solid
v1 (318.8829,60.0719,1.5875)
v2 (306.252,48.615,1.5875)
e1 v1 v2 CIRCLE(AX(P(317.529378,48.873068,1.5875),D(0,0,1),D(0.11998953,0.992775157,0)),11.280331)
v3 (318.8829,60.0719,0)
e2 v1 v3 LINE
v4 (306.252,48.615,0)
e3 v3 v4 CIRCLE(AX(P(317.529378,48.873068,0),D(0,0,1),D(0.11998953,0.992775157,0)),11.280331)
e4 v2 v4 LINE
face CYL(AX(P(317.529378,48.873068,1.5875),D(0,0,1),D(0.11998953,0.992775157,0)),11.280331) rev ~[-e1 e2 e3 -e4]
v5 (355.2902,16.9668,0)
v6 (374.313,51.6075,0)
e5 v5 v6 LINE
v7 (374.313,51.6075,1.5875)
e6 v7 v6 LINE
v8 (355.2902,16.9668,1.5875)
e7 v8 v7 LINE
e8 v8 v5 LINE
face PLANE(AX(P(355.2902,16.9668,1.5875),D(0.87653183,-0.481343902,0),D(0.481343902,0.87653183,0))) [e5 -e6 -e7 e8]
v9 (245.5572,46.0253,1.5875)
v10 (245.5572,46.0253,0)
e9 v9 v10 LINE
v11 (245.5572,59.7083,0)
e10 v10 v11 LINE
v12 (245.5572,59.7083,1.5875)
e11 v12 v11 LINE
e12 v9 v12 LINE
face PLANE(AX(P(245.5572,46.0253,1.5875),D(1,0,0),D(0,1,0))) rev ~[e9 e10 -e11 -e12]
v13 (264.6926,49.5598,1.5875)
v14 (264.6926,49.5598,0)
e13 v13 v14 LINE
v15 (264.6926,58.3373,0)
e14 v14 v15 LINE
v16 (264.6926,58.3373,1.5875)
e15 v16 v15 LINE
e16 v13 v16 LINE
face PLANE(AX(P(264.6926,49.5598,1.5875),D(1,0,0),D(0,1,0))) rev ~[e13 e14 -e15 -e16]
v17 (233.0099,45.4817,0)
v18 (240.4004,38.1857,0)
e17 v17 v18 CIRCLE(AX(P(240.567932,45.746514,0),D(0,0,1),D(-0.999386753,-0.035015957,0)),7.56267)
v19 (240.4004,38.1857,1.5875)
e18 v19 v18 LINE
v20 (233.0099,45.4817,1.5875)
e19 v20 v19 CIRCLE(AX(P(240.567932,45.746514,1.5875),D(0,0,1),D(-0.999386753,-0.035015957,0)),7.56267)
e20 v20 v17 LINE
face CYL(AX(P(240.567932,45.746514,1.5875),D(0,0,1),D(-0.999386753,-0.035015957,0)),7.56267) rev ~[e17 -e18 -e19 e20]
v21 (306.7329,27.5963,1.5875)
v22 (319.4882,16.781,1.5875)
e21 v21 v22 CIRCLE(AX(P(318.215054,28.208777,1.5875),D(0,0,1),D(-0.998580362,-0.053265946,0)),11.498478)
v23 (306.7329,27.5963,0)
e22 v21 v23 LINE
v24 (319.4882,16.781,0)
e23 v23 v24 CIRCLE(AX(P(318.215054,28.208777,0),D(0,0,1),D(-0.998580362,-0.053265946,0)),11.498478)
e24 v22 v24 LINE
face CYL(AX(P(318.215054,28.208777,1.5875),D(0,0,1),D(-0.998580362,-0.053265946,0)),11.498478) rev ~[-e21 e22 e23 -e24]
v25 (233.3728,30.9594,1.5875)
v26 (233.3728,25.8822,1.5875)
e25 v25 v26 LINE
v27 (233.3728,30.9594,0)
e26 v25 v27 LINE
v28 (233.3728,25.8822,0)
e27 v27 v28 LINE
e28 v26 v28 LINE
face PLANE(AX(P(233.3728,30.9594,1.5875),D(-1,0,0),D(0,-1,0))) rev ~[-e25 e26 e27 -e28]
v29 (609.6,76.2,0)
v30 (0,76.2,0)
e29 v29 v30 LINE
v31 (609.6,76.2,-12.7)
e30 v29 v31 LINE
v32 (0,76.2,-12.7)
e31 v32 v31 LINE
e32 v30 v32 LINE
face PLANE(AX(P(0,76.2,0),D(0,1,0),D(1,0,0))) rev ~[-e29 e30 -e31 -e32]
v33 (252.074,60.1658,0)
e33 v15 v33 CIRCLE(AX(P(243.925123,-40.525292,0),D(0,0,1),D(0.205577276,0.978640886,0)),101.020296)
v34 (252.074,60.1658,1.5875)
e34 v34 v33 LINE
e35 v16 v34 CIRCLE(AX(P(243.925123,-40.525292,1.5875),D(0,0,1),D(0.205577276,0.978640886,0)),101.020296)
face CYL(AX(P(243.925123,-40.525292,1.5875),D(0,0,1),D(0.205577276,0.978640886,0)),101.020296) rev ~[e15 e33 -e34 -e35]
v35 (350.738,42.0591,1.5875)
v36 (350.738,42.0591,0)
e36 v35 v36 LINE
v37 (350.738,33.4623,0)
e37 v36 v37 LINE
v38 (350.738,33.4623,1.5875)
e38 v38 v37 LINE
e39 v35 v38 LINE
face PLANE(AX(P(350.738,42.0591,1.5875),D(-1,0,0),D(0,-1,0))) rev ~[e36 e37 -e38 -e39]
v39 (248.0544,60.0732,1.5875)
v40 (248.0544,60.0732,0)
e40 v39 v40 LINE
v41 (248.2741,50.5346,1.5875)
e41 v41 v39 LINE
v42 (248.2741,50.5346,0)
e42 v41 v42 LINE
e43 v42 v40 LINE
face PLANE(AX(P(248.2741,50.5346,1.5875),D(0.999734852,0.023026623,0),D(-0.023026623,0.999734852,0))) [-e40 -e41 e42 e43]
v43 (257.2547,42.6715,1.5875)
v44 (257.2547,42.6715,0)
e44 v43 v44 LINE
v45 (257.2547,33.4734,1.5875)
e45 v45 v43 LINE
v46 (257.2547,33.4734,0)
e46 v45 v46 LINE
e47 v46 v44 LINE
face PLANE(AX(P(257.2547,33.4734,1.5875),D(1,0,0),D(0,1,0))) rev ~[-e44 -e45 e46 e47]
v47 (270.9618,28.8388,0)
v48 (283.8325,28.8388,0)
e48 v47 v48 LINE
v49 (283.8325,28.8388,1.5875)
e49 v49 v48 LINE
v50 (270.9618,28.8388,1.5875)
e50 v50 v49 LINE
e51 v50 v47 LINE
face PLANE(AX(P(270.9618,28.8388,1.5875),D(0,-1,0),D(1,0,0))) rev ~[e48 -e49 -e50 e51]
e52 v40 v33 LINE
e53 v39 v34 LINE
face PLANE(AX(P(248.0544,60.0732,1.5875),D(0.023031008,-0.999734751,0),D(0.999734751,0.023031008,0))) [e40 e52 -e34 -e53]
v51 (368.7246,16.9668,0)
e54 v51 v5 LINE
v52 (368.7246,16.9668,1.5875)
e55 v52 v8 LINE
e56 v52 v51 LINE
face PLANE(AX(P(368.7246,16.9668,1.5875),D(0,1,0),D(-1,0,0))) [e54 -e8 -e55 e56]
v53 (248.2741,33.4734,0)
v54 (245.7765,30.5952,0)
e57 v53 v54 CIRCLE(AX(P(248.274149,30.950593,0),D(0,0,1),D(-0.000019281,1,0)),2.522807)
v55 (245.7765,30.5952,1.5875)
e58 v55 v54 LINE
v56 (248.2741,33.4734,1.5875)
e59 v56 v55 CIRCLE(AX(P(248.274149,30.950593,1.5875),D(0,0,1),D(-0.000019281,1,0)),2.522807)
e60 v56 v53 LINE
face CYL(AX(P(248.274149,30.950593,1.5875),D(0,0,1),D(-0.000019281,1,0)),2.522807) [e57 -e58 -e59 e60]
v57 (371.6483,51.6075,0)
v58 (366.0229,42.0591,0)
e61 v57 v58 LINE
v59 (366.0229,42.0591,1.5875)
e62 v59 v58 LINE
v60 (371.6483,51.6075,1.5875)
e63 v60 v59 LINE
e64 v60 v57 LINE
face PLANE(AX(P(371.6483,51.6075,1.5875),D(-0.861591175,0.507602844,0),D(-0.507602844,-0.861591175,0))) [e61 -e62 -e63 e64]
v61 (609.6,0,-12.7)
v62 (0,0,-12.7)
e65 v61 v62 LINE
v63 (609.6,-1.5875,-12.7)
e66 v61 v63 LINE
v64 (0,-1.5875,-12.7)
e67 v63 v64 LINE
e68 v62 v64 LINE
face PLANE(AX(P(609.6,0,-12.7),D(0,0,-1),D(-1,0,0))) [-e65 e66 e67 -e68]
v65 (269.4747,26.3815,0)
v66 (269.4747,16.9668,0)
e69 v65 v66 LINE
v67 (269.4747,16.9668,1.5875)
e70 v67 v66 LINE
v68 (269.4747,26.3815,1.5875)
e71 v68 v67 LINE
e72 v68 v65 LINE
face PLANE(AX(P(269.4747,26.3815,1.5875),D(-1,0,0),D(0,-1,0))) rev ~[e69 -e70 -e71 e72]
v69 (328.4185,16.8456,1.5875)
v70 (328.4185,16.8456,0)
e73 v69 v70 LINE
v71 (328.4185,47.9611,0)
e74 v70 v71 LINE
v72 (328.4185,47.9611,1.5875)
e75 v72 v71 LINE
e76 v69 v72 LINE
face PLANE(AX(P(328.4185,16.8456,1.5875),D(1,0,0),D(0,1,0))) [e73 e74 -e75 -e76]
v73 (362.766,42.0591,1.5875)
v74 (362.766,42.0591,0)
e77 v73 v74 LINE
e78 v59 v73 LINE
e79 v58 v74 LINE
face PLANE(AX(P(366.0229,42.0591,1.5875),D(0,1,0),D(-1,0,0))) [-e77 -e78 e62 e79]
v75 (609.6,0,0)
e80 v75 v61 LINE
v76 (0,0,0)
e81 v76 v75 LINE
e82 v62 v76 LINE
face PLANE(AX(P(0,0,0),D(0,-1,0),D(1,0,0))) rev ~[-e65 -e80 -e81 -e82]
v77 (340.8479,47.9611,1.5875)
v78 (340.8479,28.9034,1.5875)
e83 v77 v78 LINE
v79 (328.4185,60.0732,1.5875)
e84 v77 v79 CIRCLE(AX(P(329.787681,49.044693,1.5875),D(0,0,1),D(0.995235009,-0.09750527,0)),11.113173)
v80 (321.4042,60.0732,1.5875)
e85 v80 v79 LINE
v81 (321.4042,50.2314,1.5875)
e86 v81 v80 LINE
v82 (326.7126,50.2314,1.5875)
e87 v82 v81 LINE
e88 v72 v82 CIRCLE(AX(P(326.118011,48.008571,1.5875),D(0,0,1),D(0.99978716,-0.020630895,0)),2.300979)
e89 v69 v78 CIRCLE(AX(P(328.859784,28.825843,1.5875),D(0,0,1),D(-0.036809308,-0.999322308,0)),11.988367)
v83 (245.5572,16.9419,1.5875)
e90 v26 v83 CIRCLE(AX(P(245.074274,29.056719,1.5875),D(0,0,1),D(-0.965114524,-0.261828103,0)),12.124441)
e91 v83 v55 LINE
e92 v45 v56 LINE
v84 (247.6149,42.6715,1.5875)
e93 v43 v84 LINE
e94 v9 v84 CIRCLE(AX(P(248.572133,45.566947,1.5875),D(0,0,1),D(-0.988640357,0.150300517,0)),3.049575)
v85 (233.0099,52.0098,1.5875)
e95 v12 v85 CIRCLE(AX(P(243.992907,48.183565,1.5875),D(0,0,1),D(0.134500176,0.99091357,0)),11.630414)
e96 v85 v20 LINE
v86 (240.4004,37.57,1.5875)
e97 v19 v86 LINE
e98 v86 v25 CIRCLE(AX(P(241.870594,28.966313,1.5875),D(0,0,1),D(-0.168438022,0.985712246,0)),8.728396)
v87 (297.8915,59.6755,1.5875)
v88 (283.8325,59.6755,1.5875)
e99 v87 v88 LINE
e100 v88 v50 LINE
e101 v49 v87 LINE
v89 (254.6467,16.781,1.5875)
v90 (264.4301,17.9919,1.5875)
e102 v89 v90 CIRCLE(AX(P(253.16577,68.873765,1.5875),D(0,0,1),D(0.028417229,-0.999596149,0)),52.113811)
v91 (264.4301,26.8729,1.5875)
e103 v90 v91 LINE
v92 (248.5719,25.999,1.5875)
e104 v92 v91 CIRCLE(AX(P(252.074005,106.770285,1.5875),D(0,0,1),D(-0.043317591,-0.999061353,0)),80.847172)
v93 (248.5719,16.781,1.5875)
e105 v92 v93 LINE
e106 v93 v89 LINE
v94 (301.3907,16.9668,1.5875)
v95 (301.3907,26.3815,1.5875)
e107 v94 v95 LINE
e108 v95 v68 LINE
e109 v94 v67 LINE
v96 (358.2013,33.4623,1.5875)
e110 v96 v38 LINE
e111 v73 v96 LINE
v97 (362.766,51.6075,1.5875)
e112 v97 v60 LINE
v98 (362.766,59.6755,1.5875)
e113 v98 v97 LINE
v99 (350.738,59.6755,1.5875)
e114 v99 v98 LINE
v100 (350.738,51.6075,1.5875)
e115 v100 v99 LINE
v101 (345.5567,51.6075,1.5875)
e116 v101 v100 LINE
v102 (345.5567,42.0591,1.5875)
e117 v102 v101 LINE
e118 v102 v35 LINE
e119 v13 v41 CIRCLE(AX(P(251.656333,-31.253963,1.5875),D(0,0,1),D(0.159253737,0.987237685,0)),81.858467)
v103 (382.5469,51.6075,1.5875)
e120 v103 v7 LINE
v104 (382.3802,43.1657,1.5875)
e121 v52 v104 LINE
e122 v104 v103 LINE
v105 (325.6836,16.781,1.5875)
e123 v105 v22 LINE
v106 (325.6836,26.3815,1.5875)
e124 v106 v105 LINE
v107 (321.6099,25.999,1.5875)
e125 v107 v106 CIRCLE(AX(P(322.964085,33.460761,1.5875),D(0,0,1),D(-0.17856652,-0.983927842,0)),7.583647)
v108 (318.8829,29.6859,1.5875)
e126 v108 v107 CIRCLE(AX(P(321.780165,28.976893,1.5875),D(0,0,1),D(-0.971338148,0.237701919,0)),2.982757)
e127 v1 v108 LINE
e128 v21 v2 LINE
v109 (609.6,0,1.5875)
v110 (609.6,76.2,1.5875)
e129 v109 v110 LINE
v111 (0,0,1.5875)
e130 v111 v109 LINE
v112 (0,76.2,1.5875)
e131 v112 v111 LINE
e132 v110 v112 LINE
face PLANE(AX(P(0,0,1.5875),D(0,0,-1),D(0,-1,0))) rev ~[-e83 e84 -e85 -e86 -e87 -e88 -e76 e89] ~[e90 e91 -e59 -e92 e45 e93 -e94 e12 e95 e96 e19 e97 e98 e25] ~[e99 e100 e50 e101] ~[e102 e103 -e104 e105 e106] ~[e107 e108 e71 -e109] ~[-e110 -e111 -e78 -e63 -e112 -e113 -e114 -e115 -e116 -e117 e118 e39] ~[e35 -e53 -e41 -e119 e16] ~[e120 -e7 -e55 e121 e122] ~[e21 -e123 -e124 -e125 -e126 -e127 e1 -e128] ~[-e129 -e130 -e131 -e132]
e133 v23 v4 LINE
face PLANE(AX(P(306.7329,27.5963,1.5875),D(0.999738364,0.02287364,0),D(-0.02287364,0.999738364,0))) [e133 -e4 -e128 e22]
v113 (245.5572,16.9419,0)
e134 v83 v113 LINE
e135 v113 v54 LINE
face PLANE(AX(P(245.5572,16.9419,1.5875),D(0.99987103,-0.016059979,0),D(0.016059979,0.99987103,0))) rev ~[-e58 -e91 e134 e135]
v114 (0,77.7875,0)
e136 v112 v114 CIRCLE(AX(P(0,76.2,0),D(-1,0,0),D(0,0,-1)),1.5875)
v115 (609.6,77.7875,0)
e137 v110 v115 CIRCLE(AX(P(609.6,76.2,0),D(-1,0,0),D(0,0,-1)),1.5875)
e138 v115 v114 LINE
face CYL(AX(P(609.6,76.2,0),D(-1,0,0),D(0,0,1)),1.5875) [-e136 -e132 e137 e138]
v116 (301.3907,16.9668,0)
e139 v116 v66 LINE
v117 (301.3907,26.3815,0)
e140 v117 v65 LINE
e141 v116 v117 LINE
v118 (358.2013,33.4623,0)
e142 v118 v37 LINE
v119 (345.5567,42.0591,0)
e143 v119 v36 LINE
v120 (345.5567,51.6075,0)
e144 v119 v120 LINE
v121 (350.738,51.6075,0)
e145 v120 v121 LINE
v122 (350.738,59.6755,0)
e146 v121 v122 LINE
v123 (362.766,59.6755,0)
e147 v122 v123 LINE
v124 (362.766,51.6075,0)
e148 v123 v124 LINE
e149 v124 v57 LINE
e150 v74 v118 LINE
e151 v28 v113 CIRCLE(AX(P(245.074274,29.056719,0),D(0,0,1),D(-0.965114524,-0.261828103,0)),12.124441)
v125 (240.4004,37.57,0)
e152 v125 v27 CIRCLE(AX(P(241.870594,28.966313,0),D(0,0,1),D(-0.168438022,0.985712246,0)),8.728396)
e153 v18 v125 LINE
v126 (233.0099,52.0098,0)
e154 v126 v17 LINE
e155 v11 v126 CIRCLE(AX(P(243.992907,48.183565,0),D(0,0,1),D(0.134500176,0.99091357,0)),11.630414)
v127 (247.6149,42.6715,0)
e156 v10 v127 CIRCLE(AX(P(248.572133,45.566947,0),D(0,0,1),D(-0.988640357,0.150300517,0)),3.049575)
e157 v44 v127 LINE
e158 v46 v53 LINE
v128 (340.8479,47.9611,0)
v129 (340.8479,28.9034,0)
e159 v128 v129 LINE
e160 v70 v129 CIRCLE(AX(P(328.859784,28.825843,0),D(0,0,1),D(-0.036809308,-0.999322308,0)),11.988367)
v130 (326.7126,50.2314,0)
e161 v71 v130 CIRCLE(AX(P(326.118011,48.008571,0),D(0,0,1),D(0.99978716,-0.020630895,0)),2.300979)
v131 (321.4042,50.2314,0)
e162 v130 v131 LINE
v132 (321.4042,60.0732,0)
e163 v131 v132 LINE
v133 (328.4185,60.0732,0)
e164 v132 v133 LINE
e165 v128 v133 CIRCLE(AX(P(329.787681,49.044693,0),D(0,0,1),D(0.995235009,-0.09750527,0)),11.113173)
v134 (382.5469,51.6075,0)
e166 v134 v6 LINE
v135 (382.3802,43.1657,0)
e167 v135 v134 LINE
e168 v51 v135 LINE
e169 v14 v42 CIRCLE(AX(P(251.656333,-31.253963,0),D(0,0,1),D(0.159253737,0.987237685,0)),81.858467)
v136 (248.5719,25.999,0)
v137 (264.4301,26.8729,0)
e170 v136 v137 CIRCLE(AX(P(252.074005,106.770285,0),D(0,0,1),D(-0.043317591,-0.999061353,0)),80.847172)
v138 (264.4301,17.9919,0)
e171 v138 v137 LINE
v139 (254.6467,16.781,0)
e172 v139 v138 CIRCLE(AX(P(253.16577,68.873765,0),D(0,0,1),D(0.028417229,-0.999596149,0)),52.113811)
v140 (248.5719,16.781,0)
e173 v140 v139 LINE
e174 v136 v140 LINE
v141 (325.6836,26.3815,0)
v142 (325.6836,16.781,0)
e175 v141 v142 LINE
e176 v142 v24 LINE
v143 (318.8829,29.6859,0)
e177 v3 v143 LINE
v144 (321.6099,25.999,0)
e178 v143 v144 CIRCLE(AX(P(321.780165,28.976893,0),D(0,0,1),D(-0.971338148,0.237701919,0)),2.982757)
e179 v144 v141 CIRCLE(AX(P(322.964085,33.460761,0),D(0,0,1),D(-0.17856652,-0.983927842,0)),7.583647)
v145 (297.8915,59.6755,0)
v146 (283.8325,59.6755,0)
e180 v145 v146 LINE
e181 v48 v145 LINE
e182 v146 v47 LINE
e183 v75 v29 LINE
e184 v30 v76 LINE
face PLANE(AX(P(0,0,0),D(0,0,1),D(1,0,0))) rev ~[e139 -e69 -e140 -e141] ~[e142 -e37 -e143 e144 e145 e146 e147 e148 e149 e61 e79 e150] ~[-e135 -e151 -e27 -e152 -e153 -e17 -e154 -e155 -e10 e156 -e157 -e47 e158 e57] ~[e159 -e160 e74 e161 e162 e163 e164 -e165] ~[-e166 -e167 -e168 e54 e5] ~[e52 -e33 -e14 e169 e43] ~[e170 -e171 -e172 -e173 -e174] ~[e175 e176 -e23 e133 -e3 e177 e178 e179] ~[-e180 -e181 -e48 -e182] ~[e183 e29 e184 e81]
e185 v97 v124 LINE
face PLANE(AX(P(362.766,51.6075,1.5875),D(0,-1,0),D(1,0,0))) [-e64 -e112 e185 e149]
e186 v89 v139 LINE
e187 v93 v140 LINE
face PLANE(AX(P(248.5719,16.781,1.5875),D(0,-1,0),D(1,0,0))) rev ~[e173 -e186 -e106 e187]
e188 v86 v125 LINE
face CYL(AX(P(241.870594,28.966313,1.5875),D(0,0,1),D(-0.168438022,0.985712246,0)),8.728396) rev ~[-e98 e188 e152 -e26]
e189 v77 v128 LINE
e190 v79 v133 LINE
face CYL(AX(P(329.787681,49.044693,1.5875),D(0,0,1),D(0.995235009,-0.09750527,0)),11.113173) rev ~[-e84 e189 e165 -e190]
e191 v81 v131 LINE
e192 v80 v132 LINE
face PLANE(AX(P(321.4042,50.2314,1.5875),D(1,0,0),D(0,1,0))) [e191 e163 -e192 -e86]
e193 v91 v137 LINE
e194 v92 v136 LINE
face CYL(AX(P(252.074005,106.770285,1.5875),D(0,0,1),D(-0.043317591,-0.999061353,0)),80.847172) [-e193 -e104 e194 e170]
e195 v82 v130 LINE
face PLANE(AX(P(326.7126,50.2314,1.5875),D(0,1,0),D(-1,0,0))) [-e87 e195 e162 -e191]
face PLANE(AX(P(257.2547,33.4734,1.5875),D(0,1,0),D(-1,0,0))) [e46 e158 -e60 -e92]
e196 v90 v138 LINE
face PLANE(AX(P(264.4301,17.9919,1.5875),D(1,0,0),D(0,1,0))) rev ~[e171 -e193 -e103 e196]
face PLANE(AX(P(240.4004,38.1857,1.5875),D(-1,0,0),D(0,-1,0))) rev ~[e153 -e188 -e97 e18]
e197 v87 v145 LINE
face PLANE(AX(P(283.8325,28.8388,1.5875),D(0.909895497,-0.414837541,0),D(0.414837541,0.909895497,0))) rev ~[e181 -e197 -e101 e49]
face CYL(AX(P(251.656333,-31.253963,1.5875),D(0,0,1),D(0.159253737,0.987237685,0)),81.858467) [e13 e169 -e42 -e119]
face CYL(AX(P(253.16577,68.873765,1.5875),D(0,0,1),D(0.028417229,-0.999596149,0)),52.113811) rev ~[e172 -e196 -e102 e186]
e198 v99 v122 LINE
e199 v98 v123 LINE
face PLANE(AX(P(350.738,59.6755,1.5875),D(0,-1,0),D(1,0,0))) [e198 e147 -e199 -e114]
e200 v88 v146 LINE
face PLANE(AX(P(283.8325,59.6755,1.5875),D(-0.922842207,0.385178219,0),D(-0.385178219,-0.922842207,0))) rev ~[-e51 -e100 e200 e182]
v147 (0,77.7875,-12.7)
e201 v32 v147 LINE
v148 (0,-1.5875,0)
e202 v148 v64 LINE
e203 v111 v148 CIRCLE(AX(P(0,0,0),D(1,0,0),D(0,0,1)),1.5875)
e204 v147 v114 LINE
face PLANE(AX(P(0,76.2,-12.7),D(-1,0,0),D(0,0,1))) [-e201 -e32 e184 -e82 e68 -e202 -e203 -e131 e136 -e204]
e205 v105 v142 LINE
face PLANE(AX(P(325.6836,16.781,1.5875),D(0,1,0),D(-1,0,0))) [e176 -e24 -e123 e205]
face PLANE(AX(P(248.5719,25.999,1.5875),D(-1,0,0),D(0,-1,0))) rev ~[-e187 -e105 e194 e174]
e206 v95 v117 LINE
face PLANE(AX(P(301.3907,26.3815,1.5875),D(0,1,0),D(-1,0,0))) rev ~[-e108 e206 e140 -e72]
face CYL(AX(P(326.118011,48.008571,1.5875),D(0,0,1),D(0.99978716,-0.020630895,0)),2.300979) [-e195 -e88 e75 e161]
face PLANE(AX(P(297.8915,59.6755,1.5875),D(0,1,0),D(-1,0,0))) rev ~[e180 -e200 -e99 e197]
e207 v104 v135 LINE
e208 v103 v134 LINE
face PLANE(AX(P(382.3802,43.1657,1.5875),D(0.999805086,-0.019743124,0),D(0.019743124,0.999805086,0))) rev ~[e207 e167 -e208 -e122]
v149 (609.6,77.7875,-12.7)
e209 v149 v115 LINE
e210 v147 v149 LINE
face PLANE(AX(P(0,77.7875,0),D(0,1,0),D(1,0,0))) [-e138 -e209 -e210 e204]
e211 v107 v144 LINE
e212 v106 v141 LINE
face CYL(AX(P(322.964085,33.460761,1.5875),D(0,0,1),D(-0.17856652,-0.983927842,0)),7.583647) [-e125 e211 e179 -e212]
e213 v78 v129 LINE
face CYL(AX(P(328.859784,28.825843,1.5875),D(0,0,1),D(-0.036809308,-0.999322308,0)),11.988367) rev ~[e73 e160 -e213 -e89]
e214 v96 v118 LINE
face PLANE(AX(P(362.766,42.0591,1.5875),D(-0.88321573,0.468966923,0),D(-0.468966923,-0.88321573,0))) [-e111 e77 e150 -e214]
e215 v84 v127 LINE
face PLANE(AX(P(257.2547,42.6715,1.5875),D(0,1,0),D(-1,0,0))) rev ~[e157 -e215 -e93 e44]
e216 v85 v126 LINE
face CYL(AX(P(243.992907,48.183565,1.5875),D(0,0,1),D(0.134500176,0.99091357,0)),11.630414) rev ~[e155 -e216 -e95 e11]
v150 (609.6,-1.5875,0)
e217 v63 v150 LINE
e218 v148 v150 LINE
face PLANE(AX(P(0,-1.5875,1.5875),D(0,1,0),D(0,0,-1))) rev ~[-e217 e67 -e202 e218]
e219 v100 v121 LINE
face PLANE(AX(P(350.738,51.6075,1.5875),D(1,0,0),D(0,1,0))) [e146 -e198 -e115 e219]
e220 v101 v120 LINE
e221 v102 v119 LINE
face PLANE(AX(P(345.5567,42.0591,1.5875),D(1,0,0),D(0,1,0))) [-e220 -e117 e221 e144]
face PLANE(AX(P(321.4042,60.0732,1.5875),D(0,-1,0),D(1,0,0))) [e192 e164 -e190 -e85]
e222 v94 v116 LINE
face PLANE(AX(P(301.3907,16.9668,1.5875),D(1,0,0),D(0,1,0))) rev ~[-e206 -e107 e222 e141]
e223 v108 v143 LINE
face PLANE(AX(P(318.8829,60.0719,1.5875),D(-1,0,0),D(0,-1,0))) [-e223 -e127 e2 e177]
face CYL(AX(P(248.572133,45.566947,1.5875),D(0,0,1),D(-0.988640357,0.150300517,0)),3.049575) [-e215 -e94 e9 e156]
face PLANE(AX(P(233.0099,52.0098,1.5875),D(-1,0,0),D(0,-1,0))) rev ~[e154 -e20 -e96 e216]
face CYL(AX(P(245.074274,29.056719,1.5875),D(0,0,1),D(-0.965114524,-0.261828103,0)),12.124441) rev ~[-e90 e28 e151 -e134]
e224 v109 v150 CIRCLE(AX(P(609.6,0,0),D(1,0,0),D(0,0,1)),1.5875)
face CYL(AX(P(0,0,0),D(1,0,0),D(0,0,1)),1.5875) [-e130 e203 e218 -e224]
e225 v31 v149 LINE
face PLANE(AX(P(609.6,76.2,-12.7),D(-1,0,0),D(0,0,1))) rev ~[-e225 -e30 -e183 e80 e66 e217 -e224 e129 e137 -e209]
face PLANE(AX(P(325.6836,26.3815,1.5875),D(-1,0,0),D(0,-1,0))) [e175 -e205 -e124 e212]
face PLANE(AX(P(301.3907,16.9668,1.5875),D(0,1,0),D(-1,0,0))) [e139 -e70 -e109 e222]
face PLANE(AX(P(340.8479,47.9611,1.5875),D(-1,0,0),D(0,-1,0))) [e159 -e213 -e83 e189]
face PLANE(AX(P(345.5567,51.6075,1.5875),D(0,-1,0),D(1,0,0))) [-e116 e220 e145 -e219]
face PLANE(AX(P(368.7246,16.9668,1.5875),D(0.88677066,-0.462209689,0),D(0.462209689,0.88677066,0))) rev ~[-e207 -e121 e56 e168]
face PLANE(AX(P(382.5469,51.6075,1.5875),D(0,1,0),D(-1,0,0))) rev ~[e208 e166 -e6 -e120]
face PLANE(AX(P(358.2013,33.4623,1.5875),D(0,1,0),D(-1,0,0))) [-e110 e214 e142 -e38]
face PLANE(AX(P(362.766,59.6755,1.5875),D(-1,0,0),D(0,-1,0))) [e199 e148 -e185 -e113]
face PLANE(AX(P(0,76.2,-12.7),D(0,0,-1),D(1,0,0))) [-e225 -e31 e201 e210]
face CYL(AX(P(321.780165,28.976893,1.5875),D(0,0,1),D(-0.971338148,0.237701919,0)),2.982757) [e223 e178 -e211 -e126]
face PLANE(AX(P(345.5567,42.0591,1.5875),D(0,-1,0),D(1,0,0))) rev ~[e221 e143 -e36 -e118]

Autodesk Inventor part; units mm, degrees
ref_plane "YZ Plane" through (0, 0, 0) normal (1, 0, 0) x (0, 1, 0)
ref_plane "XZ Plane" through (0, 0, 0) normal (0, 1, 0) x (-1, 0, 0)
ref_plane "XY Plane" through (0, 0, 0) normal (0, 0, 1) x (1, 0, 0)
sketch "Sketch1" plane through (0, 0, 0) normal (0, 0, 1) x (1, 0, 0)
  line L0 (0, 0) -> (609.6, 0)
  line L1 (609.6, 0) -> (609.6, 76.2)
  line L2 (609.6, 76.2) -> (0, 76.2)
  line L3 (0, 76.2) -> (0, 0)
  dimension "d0" = 609.6
  dimension "d1" = 76.2
extrude "Extrusion1" add sketch "Sketch1" along normal blind 1.5875
sketch "Sketch2" plane through (0, 76.2, 0) normal (0, 1, 0) x (1, 0, 0)
  line L0 (609.6, 0) -> (0, 0) projected
  line L1 (0, 0) -> (0, -1.5875) projected
  line L2 (609.6, -1.5875) -> (0, -1.5875) projected
  line L3 (609.6, 0) -> (609.6, -1.5875) projected
  line L4 (609.6, -1.5875) -> (0, -1.5875)
  line L5 (0, -1.5875) -> (0, 12.7)
  line L6 (0, 12.7) -> (609.6, 12.7)
  line L7 (609.6, 12.7) -> (609.6, -1.5875)
  dimension "d39" = 12.7
extrude "Extrusion2" add sketch "Sketch2" along normal blind 1.5875
fillet "Fillet1" radius 1.5875 1 edges at (304.8, 77.7875, 1.5875)
sketch "Sketch3" plane through (0, 0, 0) normal (0, -1, 0) x (1, 0, 0)
  line L0 (609.6, 0) -> (0, 0) projected
  line L1 (0, -12.7) -> (0, 0) projected
  line L2 (609.6, -12.7) -> (0, -12.7) projected
  line L3 (609.6, 0) -> (609.6, -12.7) projected
extrude "Extrusion3" add sketch "Sketch3" along normal blind 1.5875
sketch "Sketch4" plane through (0, 76.2, -12.7) normal (-1, 0, 0) x (0, 0, 1)
  line L0 (12.7, -76.2) -> (0, -76.2) projected
  line L1 (0, -76.2) -> (0, -77.7875) projected
  line L2 (12.7, -77.7875) -> (0, -77.7875) projected
  line L3 (12.7, -76.2) -> (12.7, -77.7875) projected
  arc A0 (14.2875, 0) -> (12.7, 1.5875) centre (12.7, 0) ccw projected
  line L4 (0, 1.5875) -> (12.7, 1.5875) projected
  line L5 (0, 0) -> (0, 1.5875) projected
  line L6 (0, 0) -> (12.7, 0) projected
  line L7 (12.7, 0) -> (12.7, -76.2) projected
  line L8 (12.7, -76.2) -> (14.2875, -76.2) projected
  line L9 (14.2875, -76.2) -> (14.2875, 0) projected
  line L10 (12.7, -76.2) -> (14.2875, -76.2)
  line L11 (14.2875, -76.2) -> (14.2875, -77.7875)
  line L12 (14.2875, -77.7875) -> (12.7, -77.7875)
  line L13 (12.7, -77.7875) -> (12.7, -76.2)
extrude "Extrusion4" add sketch "Sketch4" against normal up to surface (609.6 mm away) contours L8 L11 L12 L3
fillet "Fillet2" radius 1.5875 1 edges at (304.8, -1.5875, 1.5875)
sketch "Sketch5" plane through (0, 0, 1.5875) normal (0, 0, 1) x (1, 0, 0)
  line L0 (391.8077, 9.2075) -> (217.7923, 9.2075) construction
  line L1 (217.7923, 9.2075) -> (217.7923, 67.0009) construction
  line L2 (217.7923, 67.0009) -> (391.8077, 67.0009) construction
  line L3 (391.8077, 67.0009) -> (391.8077, 9.2075) construction
  line L4 (368.7246, 16.9668) -> (355.2902, 16.9668)
  line L5 (355.2902, 16.9668) -> (374.313, 51.6075)
  line L6 (366.0229, 42.0591) -> (362.766, 42.0591)
  line L7 (362.766, 42.0591) -> (358.2013, 33.4623)
  line L8 (358.2013, 33.4623) -> (350.738, 33.4623)
  line L9 (345.5567, 42.0591) -> (345.5567, 51.6075)
  line L10 (345.5567, 51.6075) -> (350.738, 51.6075)
  line L11 (350.738, 51.6075) -> (350.738, 59.6755)
  line L12 (350.738, 59.6755) -> (362.766, 59.6755)
  line L13 (362.766, 59.6755) -> (362.766, 51.6075)
  line L14 (362.766, 51.6075) -> (371.6483, 51.6075)
  line L15 (371.6483, 51.6075) -> (366.0229, 42.0591)
  line L16 (283.8325, 28.8388) -> (297.8915, 59.6755)
  line L17 (283.8325, 59.6755) -> (270.9618, 28.8388)
  line L18 (270.9618, 28.8388) -> (283.8325, 28.8388)
  line L19 (301.3907, 16.9668) -> (301.3907, 26.3815)
  line L20 (301.3907, 26.3815) -> (269.4747, 26.3815)
  line L21 (301.3907, 16.9668) -> (269.4747, 16.9668)
  line L22 (328.4185, 16.8456) -> (328.4185, 47.9611)
  line L23 (321.4042, 50.2314) -> (321.4042, 60.0732)
  line L24 (340.8479, 47.9611) -> (340.8479, 28.9034)
  arc A0 (328.4185, 47.9611) -> (326.7126, 50.2314) centre (326.1181, 48.0086) ccw
  arc A1 (328.4185, 16.8456) -> (340.8479, 28.9034) centre (328.8598, 28.8258) ccw
  line L25 (318.8829, 60.0719) -> (318.8829, 29.6859)
  line L26 (325.6836, 26.3815) -> (325.6836, 16.781)
  line L27 (325.6836, 16.781) -> (319.4882, 16.781)
  arc A2 (306.7329, 27.5963) -> (319.4882, 16.781) centre (318.2151, 28.2088) ccw
  line L28 (306.7329, 27.5963) -> (306.252, 48.615)
  arc A3 (318.8829, 60.0719) -> (306.252, 48.615) centre (317.5294, 48.873) ccw
  line L29 (321.4042, 60.0732) -> (328.4185, 60.0732)
  arc A4 (340.8479, 47.9611) -> (328.4185, 60.0732) centre (329.7877, 49.0447) ccw
  line L30 (609.6, 0) -> (609.6, 76.2) projected
  line L31 (0, 0) -> (0, 76.2) projected
  line L32 (609.6, 0) -> (0, 0) projected
  line L33 (0, 76.2) -> (609.6, 76.2) projected
  line L34 (297.8915, 59.6755) -> (283.8325, 59.6755)
  line L35 (269.4747, 26.3815) -> (269.4747, 16.9668)
  line L36 (326.7126, 50.2314) -> (321.4042, 50.2314)
  line L37 (368.7246, 16.9668) -> (382.3802, 43.1657)
  line L38 (382.3802, 43.1657) -> (382.5469, 51.6075)
  line L39 (382.5469, 51.6075) -> (374.313, 51.6075)
  line L40 (345.5567, 42.0591) -> (350.738, 42.0591)
  line L41 (350.738, 42.0591) -> (350.738, 33.4623)
  arc A5 (318.8829, 29.6859) -> (321.6099, 25.999) centre (321.7802, 28.9769) ccw
  arc A6 (321.6099, 25.999) -> (325.6836, 26.3815) centre (322.9641, 33.4611) ccw
  line L42 (257.2547, 33.4734) -> (257.2547, 42.6715)
  line L43 (257.2547, 42.6715) -> (247.6149, 42.6715)
  line L44 (245.5572, 46.0253) -> (245.5572, 59.7083)
  line L45 (233.0099, 52.0098) -> (233.0099, 45.4817)
  line L46 (240.4004, 38.1857) -> (240.4004, 37.57)
  line L47 (233.3728, 30.9594) -> (233.3728, 25.8822)
  line L48 (245.5572, 16.9419) -> (245.7765, 30.5952)
  arc A7 (233.3728, 25.8822) -> (245.5572, 16.9419) centre (245.0741, 29.0566) ccw
  arc A8 (240.4004, 37.57) -> (233.3728, 30.9594) centre (241.8707, 28.9661) ccw
  arc A9 (233.0099, 45.4817) -> (240.4004, 38.1857) centre (240.5679, 45.7465) ccw
  line L49 (257.2547, 33.4734) -> (248.2741, 33.4734)
  arc A10 (248.2741, 33.4734) -> (245.7765, 30.5952) centre (248.2741, 30.9507) ccw
  arc A11 (245.5572, 46.0253) -> (247.6149, 42.6715) centre (248.5719, 45.5669) ccw
  arc A12 (245.5572, 59.7083) -> (233.0099, 52.0098) centre (243.9929, 48.1836) ccw
  line L50 (264.4301, 17.9919) -> (264.4301, 26.8729)
  arc A13 (254.6467, 16.781) -> (264.4301, 17.9919) centre (253.1662, 68.8681) ccw
  line L51 (248.5719, 25.999) -> (248.5719, 16.781)
  line L52 (248.5719, 16.781) -> (254.6467, 16.781)
  arc A14 (248.5719, 25.999) -> (264.4301, 26.8729) centre (252.074, 106.7711) ccw
  arc A15 (264.6926, 49.5598) -> (248.2741, 50.5346) centre (251.6559, -31.2579) ccw
  line L53 (248.2741, 50.5346) -> (248.0544, 60.0732)
  line L54 (248.0544, 60.0732) -> (252.074, 60.1658)
  line L55 (264.6926, 49.5598) -> (264.6926, 58.3373)
  arc A16 (264.6926, 58.3373) -> (252.074, 60.1658) centre (243.9281, -40.5085) ccw
  point P0 (0, 38.1)
  point P1 (217.7923, 38.1042)
extrude "Extrusion9" cut sketch "Sketch5" against normal blind 25.4 contours L4 L5 L39 L38 L37 | L6 L7 L8 L41 L40 L9 L10 L11 L12 L13 L14 L15 | L18 L17 L34 L16 | L21 L35 L20 L19 | L22 A0 L36 L23 L29 A4 L24 A1 | L25 A5 A6 L26 L27 A2 L28 A3 | L49 A10 L48 A7 L47 A8 L46 A9 L45 A12 L44 A11 L43 L42 | A13 L52 L51 A14 L50 | A15 L53 L54 A16 L55
properties part number "Chassis FrontandBack"
